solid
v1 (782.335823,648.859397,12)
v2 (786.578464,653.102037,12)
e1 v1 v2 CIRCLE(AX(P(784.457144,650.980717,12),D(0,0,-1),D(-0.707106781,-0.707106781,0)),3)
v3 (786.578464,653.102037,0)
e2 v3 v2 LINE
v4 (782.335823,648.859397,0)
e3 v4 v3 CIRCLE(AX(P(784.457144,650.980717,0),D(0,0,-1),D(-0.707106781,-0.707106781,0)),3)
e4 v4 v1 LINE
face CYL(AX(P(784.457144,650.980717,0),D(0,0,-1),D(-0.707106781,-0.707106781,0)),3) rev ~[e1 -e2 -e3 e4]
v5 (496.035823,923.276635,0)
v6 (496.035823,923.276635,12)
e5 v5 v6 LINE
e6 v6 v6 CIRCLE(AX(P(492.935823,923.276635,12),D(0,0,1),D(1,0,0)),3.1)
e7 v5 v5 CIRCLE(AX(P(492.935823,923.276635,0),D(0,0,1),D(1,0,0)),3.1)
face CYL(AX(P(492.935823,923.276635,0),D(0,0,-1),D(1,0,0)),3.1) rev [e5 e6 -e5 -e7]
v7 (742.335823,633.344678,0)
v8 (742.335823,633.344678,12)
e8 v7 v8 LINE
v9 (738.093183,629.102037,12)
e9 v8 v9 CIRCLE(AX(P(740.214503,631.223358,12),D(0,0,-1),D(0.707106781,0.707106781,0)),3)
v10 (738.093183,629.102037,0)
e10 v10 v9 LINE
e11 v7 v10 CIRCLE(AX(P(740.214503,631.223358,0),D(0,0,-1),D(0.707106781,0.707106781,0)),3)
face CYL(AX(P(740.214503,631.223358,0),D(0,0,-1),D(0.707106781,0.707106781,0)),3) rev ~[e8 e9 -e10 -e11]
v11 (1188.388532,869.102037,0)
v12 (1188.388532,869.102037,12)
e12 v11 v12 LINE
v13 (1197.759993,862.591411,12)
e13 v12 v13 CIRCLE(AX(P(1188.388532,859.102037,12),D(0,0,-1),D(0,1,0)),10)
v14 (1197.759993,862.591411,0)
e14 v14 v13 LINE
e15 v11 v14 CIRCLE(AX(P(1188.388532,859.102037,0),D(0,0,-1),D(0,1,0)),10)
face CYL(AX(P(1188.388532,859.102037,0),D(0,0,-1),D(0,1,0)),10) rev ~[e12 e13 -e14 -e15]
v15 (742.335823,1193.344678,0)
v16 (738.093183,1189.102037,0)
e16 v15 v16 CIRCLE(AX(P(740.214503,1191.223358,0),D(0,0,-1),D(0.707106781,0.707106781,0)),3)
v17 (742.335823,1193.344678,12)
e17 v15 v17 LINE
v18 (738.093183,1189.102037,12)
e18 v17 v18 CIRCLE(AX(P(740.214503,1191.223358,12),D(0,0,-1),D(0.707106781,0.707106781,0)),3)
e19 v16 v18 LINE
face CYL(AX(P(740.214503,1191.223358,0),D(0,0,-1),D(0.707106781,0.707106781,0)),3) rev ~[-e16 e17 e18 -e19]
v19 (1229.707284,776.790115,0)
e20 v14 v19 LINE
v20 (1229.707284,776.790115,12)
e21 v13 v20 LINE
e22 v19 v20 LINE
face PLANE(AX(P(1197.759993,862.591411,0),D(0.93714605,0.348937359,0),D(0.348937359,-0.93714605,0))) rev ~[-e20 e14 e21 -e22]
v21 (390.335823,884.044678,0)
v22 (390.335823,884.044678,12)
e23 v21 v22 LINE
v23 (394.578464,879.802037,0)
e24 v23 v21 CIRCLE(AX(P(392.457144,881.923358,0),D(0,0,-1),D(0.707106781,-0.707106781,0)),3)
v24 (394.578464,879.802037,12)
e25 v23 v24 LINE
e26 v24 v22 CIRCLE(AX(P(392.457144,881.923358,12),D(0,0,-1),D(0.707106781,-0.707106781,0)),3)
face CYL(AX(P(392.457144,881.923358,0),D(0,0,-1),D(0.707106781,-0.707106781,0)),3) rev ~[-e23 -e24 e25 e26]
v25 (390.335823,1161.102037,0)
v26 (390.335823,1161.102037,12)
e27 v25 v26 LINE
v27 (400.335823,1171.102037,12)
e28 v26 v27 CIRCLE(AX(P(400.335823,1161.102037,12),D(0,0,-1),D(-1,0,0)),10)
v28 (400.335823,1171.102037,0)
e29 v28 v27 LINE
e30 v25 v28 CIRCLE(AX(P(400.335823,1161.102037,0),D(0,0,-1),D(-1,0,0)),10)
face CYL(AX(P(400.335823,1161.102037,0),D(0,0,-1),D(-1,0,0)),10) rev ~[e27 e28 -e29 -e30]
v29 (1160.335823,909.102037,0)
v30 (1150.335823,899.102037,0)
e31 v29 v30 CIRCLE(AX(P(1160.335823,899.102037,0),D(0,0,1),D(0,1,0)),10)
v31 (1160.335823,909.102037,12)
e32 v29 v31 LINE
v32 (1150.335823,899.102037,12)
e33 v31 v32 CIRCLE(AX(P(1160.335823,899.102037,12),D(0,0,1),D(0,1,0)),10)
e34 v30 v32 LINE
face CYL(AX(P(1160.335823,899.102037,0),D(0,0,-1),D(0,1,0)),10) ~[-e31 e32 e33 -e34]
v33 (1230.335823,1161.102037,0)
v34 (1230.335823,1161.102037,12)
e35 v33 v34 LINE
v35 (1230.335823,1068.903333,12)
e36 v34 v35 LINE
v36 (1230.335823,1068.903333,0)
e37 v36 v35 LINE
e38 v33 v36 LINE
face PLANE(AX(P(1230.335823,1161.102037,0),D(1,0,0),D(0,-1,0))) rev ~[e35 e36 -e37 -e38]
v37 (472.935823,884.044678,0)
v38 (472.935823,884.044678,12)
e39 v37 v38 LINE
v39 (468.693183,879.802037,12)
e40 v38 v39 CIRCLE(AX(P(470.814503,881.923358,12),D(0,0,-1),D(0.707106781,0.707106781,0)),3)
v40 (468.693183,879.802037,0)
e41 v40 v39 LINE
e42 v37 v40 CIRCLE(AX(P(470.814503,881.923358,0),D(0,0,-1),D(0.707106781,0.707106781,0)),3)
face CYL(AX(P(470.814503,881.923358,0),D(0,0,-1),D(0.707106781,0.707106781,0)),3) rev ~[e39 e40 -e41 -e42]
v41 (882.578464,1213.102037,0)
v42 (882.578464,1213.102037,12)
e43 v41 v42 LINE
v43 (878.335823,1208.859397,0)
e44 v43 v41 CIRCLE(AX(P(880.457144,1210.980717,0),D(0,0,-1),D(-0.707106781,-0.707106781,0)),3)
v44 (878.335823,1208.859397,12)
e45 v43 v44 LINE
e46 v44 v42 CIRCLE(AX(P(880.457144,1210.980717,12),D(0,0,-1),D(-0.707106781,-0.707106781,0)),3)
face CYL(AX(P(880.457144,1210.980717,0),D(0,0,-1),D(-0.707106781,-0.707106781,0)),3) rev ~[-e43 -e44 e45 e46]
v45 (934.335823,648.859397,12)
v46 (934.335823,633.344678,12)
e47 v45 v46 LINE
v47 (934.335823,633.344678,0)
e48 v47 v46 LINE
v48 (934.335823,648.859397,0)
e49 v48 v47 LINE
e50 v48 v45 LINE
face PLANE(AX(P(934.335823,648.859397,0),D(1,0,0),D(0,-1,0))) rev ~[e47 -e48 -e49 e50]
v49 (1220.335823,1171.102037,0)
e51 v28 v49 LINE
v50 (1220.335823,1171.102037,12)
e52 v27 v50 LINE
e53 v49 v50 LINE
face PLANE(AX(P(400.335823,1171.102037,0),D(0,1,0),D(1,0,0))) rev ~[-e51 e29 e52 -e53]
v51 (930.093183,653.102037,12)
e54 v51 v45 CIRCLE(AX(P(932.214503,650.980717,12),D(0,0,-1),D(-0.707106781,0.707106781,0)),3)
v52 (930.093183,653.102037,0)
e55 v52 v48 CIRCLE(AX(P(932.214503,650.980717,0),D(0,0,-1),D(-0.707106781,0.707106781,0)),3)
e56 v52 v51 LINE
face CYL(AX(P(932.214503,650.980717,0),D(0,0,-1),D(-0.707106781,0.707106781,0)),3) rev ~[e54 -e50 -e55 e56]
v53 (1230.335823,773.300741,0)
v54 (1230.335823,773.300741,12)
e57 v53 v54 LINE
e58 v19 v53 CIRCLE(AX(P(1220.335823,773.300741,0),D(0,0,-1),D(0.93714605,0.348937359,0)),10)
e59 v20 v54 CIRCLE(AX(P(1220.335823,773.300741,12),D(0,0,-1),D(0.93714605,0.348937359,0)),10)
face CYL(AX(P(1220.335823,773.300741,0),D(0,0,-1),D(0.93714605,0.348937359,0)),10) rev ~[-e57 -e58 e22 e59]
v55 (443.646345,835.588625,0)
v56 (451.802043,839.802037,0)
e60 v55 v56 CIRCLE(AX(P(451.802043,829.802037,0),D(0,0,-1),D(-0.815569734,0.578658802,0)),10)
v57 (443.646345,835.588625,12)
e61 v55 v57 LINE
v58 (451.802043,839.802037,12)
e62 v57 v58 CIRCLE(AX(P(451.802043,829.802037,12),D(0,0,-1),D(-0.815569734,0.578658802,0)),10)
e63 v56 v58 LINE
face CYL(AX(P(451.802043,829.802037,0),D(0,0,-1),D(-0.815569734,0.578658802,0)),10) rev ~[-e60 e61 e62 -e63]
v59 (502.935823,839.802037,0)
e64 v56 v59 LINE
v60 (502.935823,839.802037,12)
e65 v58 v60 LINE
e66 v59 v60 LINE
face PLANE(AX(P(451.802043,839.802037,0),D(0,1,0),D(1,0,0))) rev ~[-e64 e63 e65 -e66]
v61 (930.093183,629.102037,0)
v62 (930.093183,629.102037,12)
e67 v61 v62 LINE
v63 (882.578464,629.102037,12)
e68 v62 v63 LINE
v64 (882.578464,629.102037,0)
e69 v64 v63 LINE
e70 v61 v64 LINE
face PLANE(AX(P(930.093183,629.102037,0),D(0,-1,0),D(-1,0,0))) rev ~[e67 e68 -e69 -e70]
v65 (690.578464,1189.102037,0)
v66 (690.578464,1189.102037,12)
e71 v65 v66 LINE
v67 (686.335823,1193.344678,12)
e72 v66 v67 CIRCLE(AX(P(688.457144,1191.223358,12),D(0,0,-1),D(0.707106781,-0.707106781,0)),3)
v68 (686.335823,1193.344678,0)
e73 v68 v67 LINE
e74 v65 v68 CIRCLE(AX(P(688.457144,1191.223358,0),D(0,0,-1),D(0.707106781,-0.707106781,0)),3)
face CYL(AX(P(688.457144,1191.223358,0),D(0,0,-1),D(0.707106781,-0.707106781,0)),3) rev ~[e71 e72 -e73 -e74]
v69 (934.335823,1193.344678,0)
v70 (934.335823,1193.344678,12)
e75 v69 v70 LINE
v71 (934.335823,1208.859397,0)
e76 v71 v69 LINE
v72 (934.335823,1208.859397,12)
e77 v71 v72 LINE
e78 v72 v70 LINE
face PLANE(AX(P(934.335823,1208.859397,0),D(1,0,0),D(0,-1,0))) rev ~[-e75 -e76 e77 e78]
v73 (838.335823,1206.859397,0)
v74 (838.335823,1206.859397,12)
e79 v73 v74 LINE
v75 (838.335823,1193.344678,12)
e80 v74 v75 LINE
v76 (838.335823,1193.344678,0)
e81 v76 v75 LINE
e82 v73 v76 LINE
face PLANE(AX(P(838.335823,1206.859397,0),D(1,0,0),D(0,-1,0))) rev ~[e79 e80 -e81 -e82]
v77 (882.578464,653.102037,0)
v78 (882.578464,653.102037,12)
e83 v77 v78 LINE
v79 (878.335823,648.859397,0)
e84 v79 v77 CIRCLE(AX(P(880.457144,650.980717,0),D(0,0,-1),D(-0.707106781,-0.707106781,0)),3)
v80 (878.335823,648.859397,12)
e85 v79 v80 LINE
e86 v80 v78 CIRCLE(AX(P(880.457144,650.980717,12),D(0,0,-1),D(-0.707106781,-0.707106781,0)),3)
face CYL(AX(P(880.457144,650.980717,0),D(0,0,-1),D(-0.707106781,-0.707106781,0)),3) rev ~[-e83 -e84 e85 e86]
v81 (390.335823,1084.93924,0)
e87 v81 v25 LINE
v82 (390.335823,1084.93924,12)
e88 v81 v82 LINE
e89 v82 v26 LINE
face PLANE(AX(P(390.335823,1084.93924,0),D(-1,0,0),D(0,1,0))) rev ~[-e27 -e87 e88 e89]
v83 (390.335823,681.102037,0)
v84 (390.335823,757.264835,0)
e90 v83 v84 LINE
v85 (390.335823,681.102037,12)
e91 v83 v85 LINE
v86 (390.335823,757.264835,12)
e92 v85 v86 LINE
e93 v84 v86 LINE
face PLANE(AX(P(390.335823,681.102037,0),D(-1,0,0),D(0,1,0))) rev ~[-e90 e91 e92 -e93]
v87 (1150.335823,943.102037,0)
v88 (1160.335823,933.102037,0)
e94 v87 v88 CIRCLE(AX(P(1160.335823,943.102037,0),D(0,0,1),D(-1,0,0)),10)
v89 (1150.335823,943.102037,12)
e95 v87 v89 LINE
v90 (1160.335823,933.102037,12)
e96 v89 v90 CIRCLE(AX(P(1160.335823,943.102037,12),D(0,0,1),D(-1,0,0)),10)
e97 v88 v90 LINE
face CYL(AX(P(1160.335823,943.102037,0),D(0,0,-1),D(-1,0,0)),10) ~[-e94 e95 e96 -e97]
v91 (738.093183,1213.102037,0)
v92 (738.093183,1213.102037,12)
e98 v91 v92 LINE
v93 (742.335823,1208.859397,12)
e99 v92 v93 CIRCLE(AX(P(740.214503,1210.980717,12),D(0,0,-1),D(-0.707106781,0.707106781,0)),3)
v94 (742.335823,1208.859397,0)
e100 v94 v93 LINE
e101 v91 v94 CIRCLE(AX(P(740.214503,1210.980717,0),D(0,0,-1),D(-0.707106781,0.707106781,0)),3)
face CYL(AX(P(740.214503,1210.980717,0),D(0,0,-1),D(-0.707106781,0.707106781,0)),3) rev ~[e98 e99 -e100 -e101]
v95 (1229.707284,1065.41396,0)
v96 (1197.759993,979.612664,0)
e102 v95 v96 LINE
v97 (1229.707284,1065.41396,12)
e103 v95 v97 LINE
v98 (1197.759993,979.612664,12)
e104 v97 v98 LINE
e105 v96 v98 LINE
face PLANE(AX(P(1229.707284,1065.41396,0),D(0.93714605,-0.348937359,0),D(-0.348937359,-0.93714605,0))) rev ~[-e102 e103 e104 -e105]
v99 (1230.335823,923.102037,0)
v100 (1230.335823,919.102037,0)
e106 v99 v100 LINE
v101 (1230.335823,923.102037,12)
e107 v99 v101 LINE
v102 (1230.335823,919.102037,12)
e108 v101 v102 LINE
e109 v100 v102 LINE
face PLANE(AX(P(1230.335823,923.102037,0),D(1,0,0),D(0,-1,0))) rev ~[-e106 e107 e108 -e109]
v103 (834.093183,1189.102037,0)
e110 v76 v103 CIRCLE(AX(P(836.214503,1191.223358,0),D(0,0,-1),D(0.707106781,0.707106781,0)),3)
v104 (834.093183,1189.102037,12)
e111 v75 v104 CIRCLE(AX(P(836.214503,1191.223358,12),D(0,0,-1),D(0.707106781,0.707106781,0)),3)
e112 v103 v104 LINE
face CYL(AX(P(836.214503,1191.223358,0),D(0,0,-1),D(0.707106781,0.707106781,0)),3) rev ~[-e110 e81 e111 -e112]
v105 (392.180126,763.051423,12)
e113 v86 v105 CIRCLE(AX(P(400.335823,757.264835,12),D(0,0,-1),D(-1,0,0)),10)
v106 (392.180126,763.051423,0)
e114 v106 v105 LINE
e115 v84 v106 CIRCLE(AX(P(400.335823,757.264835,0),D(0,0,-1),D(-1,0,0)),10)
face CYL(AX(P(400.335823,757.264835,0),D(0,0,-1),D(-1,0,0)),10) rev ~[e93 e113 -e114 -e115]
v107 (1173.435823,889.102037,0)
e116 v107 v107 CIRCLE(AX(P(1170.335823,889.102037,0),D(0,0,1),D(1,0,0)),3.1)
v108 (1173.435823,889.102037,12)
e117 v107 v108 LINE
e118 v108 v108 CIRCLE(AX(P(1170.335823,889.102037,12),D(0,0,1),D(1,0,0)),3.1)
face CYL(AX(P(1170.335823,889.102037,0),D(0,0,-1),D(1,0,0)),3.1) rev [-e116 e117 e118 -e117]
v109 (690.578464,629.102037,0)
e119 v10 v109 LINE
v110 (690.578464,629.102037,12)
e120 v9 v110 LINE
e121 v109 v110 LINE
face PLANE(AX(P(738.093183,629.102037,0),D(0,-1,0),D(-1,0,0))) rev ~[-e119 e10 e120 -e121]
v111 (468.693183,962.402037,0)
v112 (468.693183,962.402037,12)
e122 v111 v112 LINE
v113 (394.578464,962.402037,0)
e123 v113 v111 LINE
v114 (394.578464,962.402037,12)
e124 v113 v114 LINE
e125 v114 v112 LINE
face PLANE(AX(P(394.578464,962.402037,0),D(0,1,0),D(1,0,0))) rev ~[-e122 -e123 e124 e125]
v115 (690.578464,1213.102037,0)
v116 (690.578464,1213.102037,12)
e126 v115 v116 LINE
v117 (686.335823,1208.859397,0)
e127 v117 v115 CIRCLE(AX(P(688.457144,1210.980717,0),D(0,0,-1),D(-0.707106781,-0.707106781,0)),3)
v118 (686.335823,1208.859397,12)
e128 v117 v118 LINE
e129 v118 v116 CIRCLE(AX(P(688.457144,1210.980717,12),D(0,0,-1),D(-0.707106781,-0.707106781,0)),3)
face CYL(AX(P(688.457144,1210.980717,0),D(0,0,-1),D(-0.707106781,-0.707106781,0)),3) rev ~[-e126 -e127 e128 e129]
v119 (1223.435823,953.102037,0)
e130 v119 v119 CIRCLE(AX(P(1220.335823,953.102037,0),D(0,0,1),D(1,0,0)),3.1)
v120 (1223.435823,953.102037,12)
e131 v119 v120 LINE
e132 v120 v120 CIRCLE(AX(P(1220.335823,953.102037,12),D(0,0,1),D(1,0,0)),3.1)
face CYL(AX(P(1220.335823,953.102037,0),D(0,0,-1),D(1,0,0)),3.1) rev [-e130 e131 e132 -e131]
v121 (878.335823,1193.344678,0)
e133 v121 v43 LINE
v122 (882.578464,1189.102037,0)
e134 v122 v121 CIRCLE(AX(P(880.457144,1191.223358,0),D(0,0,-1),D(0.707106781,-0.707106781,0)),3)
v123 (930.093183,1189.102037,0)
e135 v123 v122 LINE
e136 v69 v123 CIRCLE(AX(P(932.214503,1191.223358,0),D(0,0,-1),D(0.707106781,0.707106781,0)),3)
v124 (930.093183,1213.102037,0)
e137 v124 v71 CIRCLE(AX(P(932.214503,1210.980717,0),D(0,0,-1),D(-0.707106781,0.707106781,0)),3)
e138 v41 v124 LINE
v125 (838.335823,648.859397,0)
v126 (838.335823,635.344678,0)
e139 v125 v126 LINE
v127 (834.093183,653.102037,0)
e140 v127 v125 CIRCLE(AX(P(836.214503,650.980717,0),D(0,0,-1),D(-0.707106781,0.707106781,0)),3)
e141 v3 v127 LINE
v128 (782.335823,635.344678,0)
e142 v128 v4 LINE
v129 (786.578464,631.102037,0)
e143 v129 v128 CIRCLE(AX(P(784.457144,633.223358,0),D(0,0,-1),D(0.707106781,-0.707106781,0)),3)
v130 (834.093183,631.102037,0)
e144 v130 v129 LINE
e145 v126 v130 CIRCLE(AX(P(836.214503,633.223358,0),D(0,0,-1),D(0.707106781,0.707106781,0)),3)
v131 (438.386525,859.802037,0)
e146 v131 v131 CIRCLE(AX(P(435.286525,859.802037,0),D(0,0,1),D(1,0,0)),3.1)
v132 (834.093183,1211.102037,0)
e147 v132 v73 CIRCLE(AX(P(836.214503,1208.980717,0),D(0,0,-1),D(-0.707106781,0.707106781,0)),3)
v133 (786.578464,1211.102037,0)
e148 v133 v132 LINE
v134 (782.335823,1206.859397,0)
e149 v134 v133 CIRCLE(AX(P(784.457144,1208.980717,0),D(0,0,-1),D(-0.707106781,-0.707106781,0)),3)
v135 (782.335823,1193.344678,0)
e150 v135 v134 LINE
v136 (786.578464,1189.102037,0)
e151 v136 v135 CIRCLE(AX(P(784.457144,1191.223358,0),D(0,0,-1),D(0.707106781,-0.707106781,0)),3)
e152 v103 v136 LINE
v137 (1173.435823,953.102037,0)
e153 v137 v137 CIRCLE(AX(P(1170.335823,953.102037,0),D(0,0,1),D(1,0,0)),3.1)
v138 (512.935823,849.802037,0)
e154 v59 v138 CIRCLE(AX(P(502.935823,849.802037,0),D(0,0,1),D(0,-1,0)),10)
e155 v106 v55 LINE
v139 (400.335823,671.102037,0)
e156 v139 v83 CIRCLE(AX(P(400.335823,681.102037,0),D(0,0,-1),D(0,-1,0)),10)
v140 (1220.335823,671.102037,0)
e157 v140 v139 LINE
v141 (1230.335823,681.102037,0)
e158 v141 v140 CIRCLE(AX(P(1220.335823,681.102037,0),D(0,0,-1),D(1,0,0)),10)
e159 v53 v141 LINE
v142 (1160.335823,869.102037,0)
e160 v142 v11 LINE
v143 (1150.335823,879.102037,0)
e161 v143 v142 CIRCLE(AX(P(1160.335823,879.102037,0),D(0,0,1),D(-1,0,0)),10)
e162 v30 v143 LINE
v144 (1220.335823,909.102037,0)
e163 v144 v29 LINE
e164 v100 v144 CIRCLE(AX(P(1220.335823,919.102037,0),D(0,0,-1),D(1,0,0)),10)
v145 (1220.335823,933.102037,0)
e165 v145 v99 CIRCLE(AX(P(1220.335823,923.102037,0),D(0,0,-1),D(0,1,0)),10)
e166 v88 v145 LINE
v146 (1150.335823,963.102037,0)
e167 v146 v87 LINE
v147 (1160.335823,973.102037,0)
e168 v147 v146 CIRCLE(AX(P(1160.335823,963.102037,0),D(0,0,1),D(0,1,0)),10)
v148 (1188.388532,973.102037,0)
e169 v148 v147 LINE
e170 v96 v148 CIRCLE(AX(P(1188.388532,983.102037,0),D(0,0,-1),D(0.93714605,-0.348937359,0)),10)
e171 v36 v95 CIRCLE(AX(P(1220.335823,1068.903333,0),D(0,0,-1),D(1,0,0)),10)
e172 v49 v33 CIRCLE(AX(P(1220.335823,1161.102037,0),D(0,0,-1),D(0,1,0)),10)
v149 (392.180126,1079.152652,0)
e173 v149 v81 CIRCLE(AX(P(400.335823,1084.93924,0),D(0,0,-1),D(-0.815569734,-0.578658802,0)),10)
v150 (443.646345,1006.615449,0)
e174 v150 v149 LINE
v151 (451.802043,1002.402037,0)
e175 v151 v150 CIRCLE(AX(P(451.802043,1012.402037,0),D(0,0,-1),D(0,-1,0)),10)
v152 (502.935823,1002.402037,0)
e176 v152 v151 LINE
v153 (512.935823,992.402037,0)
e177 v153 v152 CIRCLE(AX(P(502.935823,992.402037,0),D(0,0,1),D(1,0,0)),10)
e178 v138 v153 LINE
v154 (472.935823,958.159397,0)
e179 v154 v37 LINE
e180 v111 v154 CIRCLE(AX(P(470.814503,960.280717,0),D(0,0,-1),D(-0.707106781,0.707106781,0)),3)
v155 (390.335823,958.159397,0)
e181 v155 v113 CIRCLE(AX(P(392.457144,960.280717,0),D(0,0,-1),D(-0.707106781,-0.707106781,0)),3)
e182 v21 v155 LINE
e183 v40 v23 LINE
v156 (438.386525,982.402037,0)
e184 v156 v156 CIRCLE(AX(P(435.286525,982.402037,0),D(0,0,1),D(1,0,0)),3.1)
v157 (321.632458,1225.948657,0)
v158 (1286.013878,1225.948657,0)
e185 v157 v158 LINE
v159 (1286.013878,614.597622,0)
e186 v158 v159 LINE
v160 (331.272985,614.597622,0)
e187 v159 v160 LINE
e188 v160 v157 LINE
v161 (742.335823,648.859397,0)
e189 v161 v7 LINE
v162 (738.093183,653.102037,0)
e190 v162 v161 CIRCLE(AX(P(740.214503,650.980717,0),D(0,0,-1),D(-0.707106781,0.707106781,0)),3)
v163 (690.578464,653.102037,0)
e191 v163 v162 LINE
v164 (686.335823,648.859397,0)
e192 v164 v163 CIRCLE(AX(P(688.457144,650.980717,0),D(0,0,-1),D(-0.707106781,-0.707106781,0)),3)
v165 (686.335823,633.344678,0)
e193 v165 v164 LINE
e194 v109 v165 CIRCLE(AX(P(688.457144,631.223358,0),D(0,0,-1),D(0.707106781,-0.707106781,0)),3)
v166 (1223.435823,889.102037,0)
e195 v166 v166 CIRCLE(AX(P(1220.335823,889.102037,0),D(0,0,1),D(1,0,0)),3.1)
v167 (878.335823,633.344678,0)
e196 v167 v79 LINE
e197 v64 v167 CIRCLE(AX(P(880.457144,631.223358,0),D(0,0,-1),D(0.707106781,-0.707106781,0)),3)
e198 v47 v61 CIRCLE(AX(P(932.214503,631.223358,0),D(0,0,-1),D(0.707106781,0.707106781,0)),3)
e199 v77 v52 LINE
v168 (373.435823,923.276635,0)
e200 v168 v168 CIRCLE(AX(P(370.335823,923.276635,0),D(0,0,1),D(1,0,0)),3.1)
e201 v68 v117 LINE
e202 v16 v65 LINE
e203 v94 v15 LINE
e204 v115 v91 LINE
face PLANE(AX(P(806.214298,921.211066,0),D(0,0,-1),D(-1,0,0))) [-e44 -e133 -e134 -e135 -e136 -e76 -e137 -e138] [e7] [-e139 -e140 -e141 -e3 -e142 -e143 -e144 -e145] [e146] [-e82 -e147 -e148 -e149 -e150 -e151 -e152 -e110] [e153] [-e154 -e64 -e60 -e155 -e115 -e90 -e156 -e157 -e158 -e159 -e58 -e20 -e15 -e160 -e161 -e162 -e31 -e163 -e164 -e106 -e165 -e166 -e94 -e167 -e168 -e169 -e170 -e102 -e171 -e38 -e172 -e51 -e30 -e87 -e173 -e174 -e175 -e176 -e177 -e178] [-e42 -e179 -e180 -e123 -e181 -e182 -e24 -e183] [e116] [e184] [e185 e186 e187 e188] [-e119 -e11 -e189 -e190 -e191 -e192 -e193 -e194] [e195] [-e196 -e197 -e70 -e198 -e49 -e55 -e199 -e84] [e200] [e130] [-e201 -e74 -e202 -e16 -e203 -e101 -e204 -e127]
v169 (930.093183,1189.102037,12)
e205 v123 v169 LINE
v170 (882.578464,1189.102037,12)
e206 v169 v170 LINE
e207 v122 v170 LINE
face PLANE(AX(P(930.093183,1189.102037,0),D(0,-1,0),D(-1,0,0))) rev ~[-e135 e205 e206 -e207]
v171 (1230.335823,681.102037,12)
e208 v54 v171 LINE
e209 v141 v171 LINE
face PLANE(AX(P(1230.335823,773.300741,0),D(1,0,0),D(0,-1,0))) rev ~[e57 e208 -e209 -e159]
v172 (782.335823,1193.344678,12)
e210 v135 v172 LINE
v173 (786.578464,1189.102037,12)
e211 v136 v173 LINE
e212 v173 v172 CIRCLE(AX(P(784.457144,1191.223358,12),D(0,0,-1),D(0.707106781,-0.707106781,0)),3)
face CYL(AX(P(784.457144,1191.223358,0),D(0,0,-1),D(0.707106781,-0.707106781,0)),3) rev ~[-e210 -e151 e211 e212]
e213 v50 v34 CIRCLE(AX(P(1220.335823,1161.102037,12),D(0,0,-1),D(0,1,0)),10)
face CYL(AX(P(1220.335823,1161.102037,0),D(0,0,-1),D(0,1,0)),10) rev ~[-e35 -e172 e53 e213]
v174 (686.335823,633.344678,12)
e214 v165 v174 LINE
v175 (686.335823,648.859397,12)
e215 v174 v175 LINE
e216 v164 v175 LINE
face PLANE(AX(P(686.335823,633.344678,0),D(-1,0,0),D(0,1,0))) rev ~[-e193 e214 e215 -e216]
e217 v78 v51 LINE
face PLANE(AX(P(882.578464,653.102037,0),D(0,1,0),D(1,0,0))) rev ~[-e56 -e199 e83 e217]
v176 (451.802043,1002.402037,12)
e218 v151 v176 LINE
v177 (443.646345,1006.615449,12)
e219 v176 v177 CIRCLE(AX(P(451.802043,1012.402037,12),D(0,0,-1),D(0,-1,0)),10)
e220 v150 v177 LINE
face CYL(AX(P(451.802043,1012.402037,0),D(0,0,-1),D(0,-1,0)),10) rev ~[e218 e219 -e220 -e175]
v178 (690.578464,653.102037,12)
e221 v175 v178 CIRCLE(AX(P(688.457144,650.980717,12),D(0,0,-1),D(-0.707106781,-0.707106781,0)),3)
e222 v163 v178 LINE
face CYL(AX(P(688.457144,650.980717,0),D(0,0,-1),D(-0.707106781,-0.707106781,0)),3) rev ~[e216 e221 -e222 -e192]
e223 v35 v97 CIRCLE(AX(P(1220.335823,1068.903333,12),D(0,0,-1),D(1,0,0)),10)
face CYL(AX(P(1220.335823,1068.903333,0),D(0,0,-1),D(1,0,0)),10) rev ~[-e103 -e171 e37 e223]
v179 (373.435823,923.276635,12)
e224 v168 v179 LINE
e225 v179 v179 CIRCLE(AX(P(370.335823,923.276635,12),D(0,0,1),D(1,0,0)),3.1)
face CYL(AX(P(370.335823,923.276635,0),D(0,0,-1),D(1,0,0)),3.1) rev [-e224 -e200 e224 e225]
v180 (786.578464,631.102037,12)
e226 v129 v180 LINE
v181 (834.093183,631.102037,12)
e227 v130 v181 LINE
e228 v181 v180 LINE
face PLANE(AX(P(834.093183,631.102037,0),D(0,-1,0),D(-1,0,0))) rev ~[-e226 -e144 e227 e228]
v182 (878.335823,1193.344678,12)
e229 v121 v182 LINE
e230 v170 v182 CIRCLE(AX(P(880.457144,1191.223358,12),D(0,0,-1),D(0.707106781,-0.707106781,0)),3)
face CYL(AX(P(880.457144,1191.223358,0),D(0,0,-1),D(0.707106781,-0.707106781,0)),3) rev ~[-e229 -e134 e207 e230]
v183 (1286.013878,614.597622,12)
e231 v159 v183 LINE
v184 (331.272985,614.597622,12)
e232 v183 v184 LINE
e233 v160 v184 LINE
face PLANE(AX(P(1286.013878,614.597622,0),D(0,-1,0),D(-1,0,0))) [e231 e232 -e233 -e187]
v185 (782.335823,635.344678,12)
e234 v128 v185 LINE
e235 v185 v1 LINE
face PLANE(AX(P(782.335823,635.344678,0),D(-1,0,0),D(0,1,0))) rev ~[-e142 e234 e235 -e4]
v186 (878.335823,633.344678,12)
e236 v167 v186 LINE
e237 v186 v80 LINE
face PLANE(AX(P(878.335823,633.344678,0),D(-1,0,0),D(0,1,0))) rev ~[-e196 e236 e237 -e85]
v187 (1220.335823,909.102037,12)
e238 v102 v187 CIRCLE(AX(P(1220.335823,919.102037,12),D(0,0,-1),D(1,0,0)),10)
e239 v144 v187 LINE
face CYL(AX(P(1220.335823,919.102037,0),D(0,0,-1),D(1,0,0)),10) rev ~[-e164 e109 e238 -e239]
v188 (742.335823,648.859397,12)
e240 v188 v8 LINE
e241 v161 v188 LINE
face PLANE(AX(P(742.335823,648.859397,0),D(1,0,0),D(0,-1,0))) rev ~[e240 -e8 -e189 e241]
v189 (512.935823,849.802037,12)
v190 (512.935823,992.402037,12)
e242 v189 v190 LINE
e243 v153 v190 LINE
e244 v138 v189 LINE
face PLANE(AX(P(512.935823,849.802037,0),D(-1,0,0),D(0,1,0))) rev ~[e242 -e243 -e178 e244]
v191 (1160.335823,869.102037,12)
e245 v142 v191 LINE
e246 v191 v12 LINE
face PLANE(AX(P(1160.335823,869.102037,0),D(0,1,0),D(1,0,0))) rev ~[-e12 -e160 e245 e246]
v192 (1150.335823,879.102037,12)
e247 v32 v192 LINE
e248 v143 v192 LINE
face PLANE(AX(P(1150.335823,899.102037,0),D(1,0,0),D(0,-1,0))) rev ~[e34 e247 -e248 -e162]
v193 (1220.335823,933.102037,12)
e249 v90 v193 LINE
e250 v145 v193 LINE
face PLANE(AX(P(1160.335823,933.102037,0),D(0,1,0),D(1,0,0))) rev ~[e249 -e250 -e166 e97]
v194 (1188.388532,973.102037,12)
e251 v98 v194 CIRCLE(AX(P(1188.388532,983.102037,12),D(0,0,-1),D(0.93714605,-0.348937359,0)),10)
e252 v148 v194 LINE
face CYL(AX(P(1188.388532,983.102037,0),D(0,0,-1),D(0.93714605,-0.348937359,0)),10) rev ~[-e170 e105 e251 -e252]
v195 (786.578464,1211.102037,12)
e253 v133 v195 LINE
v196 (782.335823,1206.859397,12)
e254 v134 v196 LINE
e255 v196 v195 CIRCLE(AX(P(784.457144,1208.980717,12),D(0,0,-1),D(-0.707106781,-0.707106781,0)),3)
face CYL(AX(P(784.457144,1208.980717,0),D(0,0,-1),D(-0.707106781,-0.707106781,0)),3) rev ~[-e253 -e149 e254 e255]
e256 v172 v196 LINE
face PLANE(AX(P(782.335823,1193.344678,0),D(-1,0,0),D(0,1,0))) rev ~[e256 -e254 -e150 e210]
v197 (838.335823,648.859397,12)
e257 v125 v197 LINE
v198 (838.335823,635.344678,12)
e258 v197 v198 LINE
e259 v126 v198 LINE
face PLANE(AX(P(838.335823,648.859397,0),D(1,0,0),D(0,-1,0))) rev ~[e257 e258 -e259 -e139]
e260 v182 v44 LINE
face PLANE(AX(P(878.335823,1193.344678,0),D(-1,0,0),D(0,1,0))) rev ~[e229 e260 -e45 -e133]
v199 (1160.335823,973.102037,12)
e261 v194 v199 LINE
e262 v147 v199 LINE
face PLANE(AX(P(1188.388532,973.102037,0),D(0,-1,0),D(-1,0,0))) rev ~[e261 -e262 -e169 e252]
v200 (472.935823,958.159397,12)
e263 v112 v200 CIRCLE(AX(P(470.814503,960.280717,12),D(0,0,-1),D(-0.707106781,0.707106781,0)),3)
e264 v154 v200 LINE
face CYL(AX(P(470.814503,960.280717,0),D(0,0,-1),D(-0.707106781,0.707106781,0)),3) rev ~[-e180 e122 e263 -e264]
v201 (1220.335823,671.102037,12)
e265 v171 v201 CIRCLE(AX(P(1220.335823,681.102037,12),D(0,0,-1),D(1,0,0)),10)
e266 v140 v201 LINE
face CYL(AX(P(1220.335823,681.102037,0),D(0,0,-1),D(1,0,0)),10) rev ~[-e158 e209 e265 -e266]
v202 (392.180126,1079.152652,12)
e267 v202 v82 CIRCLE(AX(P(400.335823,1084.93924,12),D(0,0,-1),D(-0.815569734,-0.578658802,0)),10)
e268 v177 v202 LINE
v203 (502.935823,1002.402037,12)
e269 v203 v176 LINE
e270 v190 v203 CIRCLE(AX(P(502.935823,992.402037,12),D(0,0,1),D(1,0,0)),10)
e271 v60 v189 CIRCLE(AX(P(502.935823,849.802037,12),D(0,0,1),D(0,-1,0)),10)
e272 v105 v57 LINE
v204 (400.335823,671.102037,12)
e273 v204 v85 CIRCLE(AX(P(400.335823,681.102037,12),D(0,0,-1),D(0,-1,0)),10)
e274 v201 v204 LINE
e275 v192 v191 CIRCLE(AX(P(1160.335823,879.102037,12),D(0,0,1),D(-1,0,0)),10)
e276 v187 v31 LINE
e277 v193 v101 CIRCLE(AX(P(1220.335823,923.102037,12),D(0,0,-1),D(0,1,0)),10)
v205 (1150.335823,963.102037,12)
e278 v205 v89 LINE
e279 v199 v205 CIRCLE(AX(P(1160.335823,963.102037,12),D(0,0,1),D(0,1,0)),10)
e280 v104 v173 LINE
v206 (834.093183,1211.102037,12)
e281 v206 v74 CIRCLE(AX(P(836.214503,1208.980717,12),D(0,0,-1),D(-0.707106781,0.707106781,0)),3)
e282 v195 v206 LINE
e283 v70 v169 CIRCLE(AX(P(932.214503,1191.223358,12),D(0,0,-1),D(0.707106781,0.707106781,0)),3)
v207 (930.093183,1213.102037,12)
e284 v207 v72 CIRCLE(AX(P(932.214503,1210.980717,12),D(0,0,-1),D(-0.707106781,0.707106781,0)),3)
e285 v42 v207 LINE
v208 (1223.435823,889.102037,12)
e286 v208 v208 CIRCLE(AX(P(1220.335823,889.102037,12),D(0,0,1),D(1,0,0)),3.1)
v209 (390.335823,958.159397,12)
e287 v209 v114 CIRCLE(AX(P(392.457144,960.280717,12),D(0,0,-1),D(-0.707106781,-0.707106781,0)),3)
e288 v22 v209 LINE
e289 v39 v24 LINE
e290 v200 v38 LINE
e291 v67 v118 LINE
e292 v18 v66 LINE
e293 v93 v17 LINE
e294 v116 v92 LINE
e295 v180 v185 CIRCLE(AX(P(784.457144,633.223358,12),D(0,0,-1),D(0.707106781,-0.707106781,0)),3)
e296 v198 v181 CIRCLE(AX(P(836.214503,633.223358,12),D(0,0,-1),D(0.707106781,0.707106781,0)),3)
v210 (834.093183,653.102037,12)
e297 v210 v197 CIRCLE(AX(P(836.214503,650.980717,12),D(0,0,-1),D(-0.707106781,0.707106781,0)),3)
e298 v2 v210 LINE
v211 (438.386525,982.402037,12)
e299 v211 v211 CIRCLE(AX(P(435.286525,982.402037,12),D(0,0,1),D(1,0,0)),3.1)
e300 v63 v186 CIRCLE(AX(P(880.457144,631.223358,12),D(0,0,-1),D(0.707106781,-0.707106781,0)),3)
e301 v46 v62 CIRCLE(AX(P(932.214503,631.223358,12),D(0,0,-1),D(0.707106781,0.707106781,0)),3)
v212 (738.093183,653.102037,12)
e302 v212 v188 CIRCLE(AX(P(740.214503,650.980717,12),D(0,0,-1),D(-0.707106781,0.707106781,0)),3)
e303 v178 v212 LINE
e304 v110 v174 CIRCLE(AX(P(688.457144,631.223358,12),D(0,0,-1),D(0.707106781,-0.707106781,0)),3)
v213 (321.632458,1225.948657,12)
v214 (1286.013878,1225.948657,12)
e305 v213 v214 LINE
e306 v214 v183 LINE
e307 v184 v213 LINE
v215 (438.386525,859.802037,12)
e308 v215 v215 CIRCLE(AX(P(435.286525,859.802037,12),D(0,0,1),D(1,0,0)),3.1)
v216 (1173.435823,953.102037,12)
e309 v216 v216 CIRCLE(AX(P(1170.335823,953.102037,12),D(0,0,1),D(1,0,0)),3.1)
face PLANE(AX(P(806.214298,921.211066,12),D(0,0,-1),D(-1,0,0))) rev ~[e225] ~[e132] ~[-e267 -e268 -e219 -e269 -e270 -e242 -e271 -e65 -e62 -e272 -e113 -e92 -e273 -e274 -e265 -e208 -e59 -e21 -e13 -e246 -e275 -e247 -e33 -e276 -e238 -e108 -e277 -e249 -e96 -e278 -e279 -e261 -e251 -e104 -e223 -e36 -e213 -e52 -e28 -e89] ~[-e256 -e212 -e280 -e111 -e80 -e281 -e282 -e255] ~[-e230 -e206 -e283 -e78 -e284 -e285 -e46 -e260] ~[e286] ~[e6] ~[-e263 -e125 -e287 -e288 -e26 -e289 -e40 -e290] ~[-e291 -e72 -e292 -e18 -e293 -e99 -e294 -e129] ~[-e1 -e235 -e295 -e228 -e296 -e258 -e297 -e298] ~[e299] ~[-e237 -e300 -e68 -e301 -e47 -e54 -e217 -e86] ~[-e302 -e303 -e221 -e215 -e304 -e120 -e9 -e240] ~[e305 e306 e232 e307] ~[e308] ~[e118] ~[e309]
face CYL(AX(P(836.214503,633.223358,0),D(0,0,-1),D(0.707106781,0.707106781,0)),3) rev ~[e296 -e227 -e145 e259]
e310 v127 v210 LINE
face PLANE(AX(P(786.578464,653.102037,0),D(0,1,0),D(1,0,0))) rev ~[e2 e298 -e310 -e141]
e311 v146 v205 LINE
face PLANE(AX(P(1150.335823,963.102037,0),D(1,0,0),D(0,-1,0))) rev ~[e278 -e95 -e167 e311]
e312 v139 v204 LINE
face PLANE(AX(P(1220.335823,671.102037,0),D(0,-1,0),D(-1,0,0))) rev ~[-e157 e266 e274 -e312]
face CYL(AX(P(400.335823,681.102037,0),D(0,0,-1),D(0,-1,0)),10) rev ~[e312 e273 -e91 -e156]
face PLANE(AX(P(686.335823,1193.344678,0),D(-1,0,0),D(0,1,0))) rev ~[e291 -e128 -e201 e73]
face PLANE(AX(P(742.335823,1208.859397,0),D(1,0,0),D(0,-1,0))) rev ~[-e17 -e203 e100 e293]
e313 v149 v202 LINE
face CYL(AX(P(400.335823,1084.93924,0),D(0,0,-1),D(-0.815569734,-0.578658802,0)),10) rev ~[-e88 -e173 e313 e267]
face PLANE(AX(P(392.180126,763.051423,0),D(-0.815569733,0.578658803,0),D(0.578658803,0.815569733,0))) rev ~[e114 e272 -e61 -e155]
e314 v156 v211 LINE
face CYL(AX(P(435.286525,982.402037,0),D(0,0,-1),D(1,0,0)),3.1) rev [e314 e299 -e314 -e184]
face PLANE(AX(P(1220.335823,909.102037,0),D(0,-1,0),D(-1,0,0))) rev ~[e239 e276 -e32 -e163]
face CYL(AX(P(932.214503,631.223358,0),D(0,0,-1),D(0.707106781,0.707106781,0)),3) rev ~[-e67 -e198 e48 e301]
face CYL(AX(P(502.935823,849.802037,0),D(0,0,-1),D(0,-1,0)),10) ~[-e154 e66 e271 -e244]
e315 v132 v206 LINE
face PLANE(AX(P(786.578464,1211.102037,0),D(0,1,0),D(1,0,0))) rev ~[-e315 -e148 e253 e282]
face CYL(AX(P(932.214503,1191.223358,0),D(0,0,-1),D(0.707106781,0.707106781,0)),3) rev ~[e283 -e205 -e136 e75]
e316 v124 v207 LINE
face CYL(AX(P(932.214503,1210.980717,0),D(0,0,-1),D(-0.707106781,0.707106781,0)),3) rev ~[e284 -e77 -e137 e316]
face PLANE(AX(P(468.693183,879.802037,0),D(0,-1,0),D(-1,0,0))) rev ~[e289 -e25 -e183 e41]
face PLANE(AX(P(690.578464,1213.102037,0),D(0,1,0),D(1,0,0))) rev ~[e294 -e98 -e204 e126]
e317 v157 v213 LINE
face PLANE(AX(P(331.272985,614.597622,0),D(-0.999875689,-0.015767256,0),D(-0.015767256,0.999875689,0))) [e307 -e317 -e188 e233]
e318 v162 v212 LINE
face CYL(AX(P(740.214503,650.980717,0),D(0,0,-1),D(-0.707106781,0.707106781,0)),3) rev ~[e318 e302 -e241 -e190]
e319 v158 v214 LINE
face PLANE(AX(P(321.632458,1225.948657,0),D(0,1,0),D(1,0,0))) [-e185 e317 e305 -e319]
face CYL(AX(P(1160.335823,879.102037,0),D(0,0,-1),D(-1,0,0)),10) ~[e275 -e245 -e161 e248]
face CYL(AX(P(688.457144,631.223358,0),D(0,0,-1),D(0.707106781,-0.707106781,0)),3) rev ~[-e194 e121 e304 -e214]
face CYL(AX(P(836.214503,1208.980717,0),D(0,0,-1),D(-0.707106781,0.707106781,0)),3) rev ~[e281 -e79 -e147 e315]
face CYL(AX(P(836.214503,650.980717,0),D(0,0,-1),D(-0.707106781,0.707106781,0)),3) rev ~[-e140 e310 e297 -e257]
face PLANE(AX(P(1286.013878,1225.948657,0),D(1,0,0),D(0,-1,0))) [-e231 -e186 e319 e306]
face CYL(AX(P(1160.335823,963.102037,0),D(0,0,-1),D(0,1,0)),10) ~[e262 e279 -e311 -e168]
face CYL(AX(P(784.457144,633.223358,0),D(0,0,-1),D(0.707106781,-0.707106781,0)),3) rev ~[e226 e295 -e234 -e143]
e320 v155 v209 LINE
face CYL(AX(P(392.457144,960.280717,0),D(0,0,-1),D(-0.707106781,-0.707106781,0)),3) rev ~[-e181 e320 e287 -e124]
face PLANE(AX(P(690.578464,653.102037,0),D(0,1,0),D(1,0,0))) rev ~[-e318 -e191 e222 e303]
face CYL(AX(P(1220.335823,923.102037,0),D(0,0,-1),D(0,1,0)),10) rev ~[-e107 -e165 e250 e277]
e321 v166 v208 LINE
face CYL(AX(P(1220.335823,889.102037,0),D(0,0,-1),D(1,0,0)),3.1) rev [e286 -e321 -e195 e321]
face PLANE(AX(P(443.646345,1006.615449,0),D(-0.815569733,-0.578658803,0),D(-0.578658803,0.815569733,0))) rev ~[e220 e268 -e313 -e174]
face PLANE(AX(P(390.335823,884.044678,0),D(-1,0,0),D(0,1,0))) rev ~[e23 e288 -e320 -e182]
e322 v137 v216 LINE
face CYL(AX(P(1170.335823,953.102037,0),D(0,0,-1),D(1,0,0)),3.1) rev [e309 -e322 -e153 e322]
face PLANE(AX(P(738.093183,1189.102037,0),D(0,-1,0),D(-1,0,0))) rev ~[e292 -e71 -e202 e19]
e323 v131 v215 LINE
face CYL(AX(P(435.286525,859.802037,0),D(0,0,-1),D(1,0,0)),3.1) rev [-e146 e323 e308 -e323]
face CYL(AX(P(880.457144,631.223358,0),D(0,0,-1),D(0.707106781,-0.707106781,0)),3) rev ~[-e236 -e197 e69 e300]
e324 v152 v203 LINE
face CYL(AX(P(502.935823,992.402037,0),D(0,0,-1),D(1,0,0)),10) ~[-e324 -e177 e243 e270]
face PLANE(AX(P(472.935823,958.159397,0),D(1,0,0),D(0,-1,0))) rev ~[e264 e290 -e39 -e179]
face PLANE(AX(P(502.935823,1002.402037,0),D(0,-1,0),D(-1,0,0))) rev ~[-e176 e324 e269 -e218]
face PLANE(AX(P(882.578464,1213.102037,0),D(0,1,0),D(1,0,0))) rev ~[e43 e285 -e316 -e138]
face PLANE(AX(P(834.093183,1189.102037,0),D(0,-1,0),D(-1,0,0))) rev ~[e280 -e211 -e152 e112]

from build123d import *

# Parameters (mm, degrees)
CROQUIS1_R              = 3.1
SALIENTE_EXTRUIR1_DEPTH = 12


with BuildPart() as part:
    # Croquis1 → Saliente-Extruir1 (new body)
    with BuildSketch(Plane.XY):
        Polygon((331.272984938, 614.597621835), (321.632458304, 1225.948656715), (1286.013878227, 1225.948656715), (1286.013878227, 614.597621835), align=None)
        with Locations((1170.33582343, 889.102037351)):
            Circle(CROQUIS1_R, mode=Mode.SUBTRACT)
        with Locations((1220.33582343, 889.102037351)):
            Circle(CROQUIS1_R, mode=Mode.SUBTRACT)
        with Locations((1220.33582343, 953.102037351)):
            Circle(CROQUIS1_R, mode=Mode.SUBTRACT)
        with Locations((1170.33582343, 953.102037351)):
            Circle(CROQUIS1_R, mode=Mode.SUBTRACT)
        with Locations((435.286525189, 859.802037351)):
            Circle(CROQUIS1_R, mode=Mode.SUBTRACT)
        with Locations((370.33582343, 923.276635067)):
            Circle(CROQUIS1_R, mode=Mode.SUBTRACT)
        with Locations((435.286525189, 982.402037351)):
            Circle(CROQUIS1_R, mode=Mode.SUBTRACT)
        with Locations((492.93582343, 923.276635067)):
            Circle(CROQUIS1_R, mode=Mode.SUBTRACT)
        with BuildLine():
            Line((394.578464117, 962.402037351), (468.693182742, 962.402037351))
            ThreePointArc((468.693182742, 962.402037351), (472.93582343, 962.402037351), (472.93582343, 958.159396664))
            Line((472.93582343, 958.159396664), (472.93582343, 884.044678039))
            ThreePointArc((472.93582343, 884.044678039), (472.93582343, 879.802037351), (468.693182742, 879.802037351))
            Line((468.693182742, 879.802037351), (394.578464117, 879.802037351))
            ThreePointArc((394.578464117, 879.802037351), (390.33582343, 879.802037351), (390.33582343, 884.044678039))
            Line((390.33582343, 884.044678039), (390.33582343, 958.159396664))
            ThreePointArc((390.33582343, 958.159396664), (390.33582343, 962.402037351), (394.578464117, 962.402037351))
        make_face(mode=Mode.SUBTRACT)
        with BuildLine():
            Line((742.33582343, 1208.859396664), (742.33582343, 1193.344678039))
            ThreePointArc((742.33582343, 1193.344678039), (742.33582343, 1189.102037351), (738.093182742, 1189.102037351))
            Line((738.093182742, 1189.102037351), (690.578464117, 1189.102037351))
            ThreePointArc((690.578464117, 1189.102037351), (686.33582343, 1189.102037351), (686.33582343, 1193.344678039))
            Line((686.33582343, 1193.344678039), (686.33582343, 1208.859396664))
            ThreePointArc((686.33582343, 1208.859396664), (686.33582343, 1213.102037351), (690.578464117, 1213.102037351))
            Line((690.578464117, 1213.102037351), (738.093182742, 1213.102037351))
            ThreePointArc((738.093182742, 1213.102037351), (742.33582343, 1213.102037351), (742.33582343, 1208.859396664))
        make_face(mode=Mode.SUBTRACT)
        with BuildLine():
            Line((934.33582343, 648.859396664), (934.33582343, 633.344678039))
            ThreePointArc((934.33582343, 633.344678039), (934.33582343, 629.102037351), (930.093182742, 629.102037351))
            Line((930.093182742, 629.102037351), (882.578464117, 629.102037351))
            ThreePointArc((882.578464117, 629.102037351), (878.33582343, 629.102037351), (878.33582343, 633.344678039))
            Line((878.33582343, 633.344678039), (878.33582343, 648.859396664))
            ThreePointArc((878.33582343, 648.859396664), (878.33582343, 653.102037351), (882.578464117, 653.102037351))
            Line((882.578464117, 653.102037351), (930.093182742, 653.102037351))
            ThreePointArc((930.093182742, 653.102037351), (934.33582343, 653.102037351), (934.33582343, 648.859396664))
        make_face(mode=Mode.SUBTRACT)
        with BuildLine():
            Line((690.578464117, 653.102037351), (738.093182742, 653.102037351))
            ThreePointArc((738.093182742, 653.102037351), (742.33582343, 653.102037351), (742.33582343, 648.859396664))
            Line((742.33582343, 648.859396664), (742.33582343, 633.344678039))
            ThreePointArc((742.33582343, 633.344678039), (742.33582343, 629.102037351), (738.093182742, 629.102037351))
            Line((738.093182742, 629.102037351), (690.578464117, 629.102037351))
            ThreePointArc((690.578464117, 629.102037351), (686.33582343, 629.102037351), (686.33582343, 633.344678039))
            Line((686.33582343, 633.344678039), (686.33582343, 648.859396664))
            ThreePointArc((686.33582343, 648.859396664), (686.33582343, 653.102037351), (690.578464117, 653.102037351))
        make_face(mode=Mode.SUBTRACT)
        with BuildLine():
            Line((1220.33582343, 671.102037351), (400.33582343, 671.102037351))
            ThreePointArc((400.33582343, 671.102037351), (393.264755618, 674.03096954), (390.33582343, 681.102037351))
            Line((390.33582343, 681.102037351), (390.33582343, 757.264835053))
            ThreePointArc((390.33582343, 757.264835053), (390.808048943, 760.301529527), (392.180126095, 763.05142308))
            Line((392.180126095, 763.05142308), (443.646345243, 835.588625378))
            ThreePointArc((443.646345243, 835.588625378), (447.212155883, 838.686458556), (451.802042577, 839.802037351))
            Line((451.802042577, 839.802037351), (502.93582343, 839.802037351))
            ThreePointArc((502.93582343, 839.802037351), (510.006891241, 842.73096954), (512.93582343, 849.802037351))
            Line((512.93582343, 849.802037351), (512.93582343, 992.402037351))
            ThreePointArc((512.93582343, 992.402037351), (510.006891241, 999.473105163), (502.93582343, 1002.402037351))
            Line((502.93582343, 1002.402037351), (451.802042577, 1002.402037351))
            ThreePointArc((451.802042577, 1002.402037351), (447.212155883, 1003.517616147), (443.646345243, 1006.615449325))
            Line((443.646345243, 1006.615449325), (392.180126095, 1079.152651623))
            ThreePointArc((392.180126095, 1079.152651623), (390.808048943, 1081.902545176), (390.33582343, 1084.93923965))
            Line((390.33582343, 1084.93923965), (390.33582343, 1161.102037351))
            ThreePointArc((390.33582343, 1161.102037351), (393.264755618, 1168.173105163), (400.33582343, 1171.102037351))
            Line((400.33582343, 1171.102037351), (1220.33582343, 1171.102037351))
            ThreePointArc((1220.33582343, 1171.102037351), (1227.406891241, 1168.173105163), (1230.33582343, 1161.102037351))
            Line((1230.33582343, 1161.102037351), (1230.33582343, 1068.903333434))
            ThreePointArc((1230.33582343, 1068.903333434), (1230.177434198, 1067.130567942), (1229.707283932, 1065.413959843))
            Line((1229.707283932, 1065.413959843), (1197.759992837, 979.61266376))
            ThreePointArc((1197.759992837, 979.61266376), (1194.094067546, 974.889433139), (1188.388532335, 973.102037351))
            Line((1188.388532335, 973.102037351), (1160.33582343, 973.102037351))
            ThreePointArc((1160.33582343, 973.102037351), (1153.264755618, 970.173105163), (1150.33582343, 963.102037351))
            Line((1150.33582343, 963.102037351), (1150.33582343, 943.102037351))
            ThreePointArc((1150.33582343, 943.102037351), (1153.264755618, 936.03096954), (1160.33582343, 933.102037351))
            Line((1160.33582343, 933.102037351), (1220.33582343, 933.102037351))
            ThreePointArc((1220.33582343, 933.102037351), (1227.406891241, 930.173105163), (1230.33582343, 923.102037351))
            Line((1230.33582343, 923.102037351), (1230.33582343, 919.102037351))
            ThreePointArc((1230.33582343, 919.102037351), (1227.406891241, 912.03096954), (1220.33582343, 909.102037351))
            Line((1220.33582343, 909.102037351), (1160.33582343, 909.102037351))
            ThreePointArc((1160.33582343, 909.102037351), (1153.264755618, 906.173105163), (1150.33582343, 899.102037351))
            Line((1150.33582343, 899.102037351), (1150.33582343, 879.102037351))
            ThreePointArc((1150.33582343, 879.102037351), (1153.264755618, 872.03096954), (1160.33582343, 869.102037351))
            Line((1160.33582343, 869.102037351), (1188.388532335, 869.102037351))
            ThreePointArc((1188.388532335, 869.102037351), (1194.094067546, 867.314641564), (1197.759992837, 862.591410943))
            Line((1197.759992837, 862.591410943), (1229.707283932, 776.79011486))
            ThreePointArc((1229.707283932, 776.79011486), (1230.177434198, 775.073506761), (1230.33582343, 773.300741269))
            Line((1230.33582343, 773.300741269), (1230.33582343, 681.102037351))
            ThreePointArc((1230.33582343, 681.102037351), (1227.406891241, 674.03096954), (1220.33582343, 671.102037351))
        make_face(mode=Mode.SUBTRACT)
        with BuildLine():
            Line((786.578464117, 653.102037351), (834.093182742, 653.102037351))
            ThreePointArc((834.093182742, 653.102037351), (838.33582343, 653.102037351), (838.33582343, 648.859396664))
            Line((838.33582343, 648.859396664), (838.33582343, 635.344678039))
            ThreePointArc((838.33582343, 635.344678039), (838.33582343, 631.102037351), (834.093182742, 631.102037351))
            Line((834.093182742, 631.102037351), (786.578464117, 631.102037351))
            ThreePointArc((786.578464117, 631.102037351), (782.33582343, 631.102037351), (782.33582343, 635.344678039))
            Line((782.33582343, 635.344678039), (782.33582343, 648.859396664))
            ThreePointArc((782.33582343, 648.859396664), (782.33582343, 653.102037351), (786.578464117, 653.102037351))
        make_face(mode=Mode.SUBTRACT)
        with BuildLine():
            Line((934.33582343, 1208.859396664), (934.33582343, 1193.344678039))
            ThreePointArc((934.33582343, 1193.344678039), (934.33582343, 1189.102037351), (930.093182742, 1189.102037351))
            Line((930.093182742, 1189.102037351), (882.578464117, 1189.102037351))
            ThreePointArc((882.578464117, 1189.102037351), (878.33582343, 1189.102037351), (878.33582343, 1193.344678039))
            Line((878.33582343, 1193.344678039), (878.33582343, 1208.859396664))
            ThreePointArc((878.33582343, 1208.859396664), (878.33582343, 1213.102037351), (882.578464117, 1213.102037351))
            Line((882.578464117, 1213.102037351), (930.093182742, 1213.102037351))
            ThreePointArc((930.093182742, 1213.102037351), (934.33582343, 1213.102037351), (934.33582343, 1208.859396664))
        make_face(mode=Mode.SUBTRACT)
        with BuildLine():
            Line((838.33582343, 1206.859396664), (838.33582343, 1193.344678039))
            ThreePointArc((838.33582343, 1193.344678039), (838.33582343, 1189.102037351), (834.093182742, 1189.102037351))
            Line((834.093182742, 1189.102037351), (786.578464117, 1189.102037351))
            ThreePointArc((786.578464117, 1189.102037351), (782.33582343, 1189.102037351), (782.33582343, 1193.344678039))
            Line((782.33582343, 1193.344678039), (782.33582343, 1206.859396664))
            ThreePointArc((782.33582343, 1206.859396664), (782.33582343, 1211.102037351), (786.578464117, 1211.102037351))
            Line((786.578464117, 1211.102037351), (834.093182742, 1211.102037351))
            ThreePointArc((834.093182742, 1211.102037351), (838.33582343, 1211.102037351), (838.33582343, 1206.859396664))
        make_face(mode=Mode.SUBTRACT)
    extrude(amount=SALIENTE_EXTRUIR1_DEPTH)


solid = part.part
